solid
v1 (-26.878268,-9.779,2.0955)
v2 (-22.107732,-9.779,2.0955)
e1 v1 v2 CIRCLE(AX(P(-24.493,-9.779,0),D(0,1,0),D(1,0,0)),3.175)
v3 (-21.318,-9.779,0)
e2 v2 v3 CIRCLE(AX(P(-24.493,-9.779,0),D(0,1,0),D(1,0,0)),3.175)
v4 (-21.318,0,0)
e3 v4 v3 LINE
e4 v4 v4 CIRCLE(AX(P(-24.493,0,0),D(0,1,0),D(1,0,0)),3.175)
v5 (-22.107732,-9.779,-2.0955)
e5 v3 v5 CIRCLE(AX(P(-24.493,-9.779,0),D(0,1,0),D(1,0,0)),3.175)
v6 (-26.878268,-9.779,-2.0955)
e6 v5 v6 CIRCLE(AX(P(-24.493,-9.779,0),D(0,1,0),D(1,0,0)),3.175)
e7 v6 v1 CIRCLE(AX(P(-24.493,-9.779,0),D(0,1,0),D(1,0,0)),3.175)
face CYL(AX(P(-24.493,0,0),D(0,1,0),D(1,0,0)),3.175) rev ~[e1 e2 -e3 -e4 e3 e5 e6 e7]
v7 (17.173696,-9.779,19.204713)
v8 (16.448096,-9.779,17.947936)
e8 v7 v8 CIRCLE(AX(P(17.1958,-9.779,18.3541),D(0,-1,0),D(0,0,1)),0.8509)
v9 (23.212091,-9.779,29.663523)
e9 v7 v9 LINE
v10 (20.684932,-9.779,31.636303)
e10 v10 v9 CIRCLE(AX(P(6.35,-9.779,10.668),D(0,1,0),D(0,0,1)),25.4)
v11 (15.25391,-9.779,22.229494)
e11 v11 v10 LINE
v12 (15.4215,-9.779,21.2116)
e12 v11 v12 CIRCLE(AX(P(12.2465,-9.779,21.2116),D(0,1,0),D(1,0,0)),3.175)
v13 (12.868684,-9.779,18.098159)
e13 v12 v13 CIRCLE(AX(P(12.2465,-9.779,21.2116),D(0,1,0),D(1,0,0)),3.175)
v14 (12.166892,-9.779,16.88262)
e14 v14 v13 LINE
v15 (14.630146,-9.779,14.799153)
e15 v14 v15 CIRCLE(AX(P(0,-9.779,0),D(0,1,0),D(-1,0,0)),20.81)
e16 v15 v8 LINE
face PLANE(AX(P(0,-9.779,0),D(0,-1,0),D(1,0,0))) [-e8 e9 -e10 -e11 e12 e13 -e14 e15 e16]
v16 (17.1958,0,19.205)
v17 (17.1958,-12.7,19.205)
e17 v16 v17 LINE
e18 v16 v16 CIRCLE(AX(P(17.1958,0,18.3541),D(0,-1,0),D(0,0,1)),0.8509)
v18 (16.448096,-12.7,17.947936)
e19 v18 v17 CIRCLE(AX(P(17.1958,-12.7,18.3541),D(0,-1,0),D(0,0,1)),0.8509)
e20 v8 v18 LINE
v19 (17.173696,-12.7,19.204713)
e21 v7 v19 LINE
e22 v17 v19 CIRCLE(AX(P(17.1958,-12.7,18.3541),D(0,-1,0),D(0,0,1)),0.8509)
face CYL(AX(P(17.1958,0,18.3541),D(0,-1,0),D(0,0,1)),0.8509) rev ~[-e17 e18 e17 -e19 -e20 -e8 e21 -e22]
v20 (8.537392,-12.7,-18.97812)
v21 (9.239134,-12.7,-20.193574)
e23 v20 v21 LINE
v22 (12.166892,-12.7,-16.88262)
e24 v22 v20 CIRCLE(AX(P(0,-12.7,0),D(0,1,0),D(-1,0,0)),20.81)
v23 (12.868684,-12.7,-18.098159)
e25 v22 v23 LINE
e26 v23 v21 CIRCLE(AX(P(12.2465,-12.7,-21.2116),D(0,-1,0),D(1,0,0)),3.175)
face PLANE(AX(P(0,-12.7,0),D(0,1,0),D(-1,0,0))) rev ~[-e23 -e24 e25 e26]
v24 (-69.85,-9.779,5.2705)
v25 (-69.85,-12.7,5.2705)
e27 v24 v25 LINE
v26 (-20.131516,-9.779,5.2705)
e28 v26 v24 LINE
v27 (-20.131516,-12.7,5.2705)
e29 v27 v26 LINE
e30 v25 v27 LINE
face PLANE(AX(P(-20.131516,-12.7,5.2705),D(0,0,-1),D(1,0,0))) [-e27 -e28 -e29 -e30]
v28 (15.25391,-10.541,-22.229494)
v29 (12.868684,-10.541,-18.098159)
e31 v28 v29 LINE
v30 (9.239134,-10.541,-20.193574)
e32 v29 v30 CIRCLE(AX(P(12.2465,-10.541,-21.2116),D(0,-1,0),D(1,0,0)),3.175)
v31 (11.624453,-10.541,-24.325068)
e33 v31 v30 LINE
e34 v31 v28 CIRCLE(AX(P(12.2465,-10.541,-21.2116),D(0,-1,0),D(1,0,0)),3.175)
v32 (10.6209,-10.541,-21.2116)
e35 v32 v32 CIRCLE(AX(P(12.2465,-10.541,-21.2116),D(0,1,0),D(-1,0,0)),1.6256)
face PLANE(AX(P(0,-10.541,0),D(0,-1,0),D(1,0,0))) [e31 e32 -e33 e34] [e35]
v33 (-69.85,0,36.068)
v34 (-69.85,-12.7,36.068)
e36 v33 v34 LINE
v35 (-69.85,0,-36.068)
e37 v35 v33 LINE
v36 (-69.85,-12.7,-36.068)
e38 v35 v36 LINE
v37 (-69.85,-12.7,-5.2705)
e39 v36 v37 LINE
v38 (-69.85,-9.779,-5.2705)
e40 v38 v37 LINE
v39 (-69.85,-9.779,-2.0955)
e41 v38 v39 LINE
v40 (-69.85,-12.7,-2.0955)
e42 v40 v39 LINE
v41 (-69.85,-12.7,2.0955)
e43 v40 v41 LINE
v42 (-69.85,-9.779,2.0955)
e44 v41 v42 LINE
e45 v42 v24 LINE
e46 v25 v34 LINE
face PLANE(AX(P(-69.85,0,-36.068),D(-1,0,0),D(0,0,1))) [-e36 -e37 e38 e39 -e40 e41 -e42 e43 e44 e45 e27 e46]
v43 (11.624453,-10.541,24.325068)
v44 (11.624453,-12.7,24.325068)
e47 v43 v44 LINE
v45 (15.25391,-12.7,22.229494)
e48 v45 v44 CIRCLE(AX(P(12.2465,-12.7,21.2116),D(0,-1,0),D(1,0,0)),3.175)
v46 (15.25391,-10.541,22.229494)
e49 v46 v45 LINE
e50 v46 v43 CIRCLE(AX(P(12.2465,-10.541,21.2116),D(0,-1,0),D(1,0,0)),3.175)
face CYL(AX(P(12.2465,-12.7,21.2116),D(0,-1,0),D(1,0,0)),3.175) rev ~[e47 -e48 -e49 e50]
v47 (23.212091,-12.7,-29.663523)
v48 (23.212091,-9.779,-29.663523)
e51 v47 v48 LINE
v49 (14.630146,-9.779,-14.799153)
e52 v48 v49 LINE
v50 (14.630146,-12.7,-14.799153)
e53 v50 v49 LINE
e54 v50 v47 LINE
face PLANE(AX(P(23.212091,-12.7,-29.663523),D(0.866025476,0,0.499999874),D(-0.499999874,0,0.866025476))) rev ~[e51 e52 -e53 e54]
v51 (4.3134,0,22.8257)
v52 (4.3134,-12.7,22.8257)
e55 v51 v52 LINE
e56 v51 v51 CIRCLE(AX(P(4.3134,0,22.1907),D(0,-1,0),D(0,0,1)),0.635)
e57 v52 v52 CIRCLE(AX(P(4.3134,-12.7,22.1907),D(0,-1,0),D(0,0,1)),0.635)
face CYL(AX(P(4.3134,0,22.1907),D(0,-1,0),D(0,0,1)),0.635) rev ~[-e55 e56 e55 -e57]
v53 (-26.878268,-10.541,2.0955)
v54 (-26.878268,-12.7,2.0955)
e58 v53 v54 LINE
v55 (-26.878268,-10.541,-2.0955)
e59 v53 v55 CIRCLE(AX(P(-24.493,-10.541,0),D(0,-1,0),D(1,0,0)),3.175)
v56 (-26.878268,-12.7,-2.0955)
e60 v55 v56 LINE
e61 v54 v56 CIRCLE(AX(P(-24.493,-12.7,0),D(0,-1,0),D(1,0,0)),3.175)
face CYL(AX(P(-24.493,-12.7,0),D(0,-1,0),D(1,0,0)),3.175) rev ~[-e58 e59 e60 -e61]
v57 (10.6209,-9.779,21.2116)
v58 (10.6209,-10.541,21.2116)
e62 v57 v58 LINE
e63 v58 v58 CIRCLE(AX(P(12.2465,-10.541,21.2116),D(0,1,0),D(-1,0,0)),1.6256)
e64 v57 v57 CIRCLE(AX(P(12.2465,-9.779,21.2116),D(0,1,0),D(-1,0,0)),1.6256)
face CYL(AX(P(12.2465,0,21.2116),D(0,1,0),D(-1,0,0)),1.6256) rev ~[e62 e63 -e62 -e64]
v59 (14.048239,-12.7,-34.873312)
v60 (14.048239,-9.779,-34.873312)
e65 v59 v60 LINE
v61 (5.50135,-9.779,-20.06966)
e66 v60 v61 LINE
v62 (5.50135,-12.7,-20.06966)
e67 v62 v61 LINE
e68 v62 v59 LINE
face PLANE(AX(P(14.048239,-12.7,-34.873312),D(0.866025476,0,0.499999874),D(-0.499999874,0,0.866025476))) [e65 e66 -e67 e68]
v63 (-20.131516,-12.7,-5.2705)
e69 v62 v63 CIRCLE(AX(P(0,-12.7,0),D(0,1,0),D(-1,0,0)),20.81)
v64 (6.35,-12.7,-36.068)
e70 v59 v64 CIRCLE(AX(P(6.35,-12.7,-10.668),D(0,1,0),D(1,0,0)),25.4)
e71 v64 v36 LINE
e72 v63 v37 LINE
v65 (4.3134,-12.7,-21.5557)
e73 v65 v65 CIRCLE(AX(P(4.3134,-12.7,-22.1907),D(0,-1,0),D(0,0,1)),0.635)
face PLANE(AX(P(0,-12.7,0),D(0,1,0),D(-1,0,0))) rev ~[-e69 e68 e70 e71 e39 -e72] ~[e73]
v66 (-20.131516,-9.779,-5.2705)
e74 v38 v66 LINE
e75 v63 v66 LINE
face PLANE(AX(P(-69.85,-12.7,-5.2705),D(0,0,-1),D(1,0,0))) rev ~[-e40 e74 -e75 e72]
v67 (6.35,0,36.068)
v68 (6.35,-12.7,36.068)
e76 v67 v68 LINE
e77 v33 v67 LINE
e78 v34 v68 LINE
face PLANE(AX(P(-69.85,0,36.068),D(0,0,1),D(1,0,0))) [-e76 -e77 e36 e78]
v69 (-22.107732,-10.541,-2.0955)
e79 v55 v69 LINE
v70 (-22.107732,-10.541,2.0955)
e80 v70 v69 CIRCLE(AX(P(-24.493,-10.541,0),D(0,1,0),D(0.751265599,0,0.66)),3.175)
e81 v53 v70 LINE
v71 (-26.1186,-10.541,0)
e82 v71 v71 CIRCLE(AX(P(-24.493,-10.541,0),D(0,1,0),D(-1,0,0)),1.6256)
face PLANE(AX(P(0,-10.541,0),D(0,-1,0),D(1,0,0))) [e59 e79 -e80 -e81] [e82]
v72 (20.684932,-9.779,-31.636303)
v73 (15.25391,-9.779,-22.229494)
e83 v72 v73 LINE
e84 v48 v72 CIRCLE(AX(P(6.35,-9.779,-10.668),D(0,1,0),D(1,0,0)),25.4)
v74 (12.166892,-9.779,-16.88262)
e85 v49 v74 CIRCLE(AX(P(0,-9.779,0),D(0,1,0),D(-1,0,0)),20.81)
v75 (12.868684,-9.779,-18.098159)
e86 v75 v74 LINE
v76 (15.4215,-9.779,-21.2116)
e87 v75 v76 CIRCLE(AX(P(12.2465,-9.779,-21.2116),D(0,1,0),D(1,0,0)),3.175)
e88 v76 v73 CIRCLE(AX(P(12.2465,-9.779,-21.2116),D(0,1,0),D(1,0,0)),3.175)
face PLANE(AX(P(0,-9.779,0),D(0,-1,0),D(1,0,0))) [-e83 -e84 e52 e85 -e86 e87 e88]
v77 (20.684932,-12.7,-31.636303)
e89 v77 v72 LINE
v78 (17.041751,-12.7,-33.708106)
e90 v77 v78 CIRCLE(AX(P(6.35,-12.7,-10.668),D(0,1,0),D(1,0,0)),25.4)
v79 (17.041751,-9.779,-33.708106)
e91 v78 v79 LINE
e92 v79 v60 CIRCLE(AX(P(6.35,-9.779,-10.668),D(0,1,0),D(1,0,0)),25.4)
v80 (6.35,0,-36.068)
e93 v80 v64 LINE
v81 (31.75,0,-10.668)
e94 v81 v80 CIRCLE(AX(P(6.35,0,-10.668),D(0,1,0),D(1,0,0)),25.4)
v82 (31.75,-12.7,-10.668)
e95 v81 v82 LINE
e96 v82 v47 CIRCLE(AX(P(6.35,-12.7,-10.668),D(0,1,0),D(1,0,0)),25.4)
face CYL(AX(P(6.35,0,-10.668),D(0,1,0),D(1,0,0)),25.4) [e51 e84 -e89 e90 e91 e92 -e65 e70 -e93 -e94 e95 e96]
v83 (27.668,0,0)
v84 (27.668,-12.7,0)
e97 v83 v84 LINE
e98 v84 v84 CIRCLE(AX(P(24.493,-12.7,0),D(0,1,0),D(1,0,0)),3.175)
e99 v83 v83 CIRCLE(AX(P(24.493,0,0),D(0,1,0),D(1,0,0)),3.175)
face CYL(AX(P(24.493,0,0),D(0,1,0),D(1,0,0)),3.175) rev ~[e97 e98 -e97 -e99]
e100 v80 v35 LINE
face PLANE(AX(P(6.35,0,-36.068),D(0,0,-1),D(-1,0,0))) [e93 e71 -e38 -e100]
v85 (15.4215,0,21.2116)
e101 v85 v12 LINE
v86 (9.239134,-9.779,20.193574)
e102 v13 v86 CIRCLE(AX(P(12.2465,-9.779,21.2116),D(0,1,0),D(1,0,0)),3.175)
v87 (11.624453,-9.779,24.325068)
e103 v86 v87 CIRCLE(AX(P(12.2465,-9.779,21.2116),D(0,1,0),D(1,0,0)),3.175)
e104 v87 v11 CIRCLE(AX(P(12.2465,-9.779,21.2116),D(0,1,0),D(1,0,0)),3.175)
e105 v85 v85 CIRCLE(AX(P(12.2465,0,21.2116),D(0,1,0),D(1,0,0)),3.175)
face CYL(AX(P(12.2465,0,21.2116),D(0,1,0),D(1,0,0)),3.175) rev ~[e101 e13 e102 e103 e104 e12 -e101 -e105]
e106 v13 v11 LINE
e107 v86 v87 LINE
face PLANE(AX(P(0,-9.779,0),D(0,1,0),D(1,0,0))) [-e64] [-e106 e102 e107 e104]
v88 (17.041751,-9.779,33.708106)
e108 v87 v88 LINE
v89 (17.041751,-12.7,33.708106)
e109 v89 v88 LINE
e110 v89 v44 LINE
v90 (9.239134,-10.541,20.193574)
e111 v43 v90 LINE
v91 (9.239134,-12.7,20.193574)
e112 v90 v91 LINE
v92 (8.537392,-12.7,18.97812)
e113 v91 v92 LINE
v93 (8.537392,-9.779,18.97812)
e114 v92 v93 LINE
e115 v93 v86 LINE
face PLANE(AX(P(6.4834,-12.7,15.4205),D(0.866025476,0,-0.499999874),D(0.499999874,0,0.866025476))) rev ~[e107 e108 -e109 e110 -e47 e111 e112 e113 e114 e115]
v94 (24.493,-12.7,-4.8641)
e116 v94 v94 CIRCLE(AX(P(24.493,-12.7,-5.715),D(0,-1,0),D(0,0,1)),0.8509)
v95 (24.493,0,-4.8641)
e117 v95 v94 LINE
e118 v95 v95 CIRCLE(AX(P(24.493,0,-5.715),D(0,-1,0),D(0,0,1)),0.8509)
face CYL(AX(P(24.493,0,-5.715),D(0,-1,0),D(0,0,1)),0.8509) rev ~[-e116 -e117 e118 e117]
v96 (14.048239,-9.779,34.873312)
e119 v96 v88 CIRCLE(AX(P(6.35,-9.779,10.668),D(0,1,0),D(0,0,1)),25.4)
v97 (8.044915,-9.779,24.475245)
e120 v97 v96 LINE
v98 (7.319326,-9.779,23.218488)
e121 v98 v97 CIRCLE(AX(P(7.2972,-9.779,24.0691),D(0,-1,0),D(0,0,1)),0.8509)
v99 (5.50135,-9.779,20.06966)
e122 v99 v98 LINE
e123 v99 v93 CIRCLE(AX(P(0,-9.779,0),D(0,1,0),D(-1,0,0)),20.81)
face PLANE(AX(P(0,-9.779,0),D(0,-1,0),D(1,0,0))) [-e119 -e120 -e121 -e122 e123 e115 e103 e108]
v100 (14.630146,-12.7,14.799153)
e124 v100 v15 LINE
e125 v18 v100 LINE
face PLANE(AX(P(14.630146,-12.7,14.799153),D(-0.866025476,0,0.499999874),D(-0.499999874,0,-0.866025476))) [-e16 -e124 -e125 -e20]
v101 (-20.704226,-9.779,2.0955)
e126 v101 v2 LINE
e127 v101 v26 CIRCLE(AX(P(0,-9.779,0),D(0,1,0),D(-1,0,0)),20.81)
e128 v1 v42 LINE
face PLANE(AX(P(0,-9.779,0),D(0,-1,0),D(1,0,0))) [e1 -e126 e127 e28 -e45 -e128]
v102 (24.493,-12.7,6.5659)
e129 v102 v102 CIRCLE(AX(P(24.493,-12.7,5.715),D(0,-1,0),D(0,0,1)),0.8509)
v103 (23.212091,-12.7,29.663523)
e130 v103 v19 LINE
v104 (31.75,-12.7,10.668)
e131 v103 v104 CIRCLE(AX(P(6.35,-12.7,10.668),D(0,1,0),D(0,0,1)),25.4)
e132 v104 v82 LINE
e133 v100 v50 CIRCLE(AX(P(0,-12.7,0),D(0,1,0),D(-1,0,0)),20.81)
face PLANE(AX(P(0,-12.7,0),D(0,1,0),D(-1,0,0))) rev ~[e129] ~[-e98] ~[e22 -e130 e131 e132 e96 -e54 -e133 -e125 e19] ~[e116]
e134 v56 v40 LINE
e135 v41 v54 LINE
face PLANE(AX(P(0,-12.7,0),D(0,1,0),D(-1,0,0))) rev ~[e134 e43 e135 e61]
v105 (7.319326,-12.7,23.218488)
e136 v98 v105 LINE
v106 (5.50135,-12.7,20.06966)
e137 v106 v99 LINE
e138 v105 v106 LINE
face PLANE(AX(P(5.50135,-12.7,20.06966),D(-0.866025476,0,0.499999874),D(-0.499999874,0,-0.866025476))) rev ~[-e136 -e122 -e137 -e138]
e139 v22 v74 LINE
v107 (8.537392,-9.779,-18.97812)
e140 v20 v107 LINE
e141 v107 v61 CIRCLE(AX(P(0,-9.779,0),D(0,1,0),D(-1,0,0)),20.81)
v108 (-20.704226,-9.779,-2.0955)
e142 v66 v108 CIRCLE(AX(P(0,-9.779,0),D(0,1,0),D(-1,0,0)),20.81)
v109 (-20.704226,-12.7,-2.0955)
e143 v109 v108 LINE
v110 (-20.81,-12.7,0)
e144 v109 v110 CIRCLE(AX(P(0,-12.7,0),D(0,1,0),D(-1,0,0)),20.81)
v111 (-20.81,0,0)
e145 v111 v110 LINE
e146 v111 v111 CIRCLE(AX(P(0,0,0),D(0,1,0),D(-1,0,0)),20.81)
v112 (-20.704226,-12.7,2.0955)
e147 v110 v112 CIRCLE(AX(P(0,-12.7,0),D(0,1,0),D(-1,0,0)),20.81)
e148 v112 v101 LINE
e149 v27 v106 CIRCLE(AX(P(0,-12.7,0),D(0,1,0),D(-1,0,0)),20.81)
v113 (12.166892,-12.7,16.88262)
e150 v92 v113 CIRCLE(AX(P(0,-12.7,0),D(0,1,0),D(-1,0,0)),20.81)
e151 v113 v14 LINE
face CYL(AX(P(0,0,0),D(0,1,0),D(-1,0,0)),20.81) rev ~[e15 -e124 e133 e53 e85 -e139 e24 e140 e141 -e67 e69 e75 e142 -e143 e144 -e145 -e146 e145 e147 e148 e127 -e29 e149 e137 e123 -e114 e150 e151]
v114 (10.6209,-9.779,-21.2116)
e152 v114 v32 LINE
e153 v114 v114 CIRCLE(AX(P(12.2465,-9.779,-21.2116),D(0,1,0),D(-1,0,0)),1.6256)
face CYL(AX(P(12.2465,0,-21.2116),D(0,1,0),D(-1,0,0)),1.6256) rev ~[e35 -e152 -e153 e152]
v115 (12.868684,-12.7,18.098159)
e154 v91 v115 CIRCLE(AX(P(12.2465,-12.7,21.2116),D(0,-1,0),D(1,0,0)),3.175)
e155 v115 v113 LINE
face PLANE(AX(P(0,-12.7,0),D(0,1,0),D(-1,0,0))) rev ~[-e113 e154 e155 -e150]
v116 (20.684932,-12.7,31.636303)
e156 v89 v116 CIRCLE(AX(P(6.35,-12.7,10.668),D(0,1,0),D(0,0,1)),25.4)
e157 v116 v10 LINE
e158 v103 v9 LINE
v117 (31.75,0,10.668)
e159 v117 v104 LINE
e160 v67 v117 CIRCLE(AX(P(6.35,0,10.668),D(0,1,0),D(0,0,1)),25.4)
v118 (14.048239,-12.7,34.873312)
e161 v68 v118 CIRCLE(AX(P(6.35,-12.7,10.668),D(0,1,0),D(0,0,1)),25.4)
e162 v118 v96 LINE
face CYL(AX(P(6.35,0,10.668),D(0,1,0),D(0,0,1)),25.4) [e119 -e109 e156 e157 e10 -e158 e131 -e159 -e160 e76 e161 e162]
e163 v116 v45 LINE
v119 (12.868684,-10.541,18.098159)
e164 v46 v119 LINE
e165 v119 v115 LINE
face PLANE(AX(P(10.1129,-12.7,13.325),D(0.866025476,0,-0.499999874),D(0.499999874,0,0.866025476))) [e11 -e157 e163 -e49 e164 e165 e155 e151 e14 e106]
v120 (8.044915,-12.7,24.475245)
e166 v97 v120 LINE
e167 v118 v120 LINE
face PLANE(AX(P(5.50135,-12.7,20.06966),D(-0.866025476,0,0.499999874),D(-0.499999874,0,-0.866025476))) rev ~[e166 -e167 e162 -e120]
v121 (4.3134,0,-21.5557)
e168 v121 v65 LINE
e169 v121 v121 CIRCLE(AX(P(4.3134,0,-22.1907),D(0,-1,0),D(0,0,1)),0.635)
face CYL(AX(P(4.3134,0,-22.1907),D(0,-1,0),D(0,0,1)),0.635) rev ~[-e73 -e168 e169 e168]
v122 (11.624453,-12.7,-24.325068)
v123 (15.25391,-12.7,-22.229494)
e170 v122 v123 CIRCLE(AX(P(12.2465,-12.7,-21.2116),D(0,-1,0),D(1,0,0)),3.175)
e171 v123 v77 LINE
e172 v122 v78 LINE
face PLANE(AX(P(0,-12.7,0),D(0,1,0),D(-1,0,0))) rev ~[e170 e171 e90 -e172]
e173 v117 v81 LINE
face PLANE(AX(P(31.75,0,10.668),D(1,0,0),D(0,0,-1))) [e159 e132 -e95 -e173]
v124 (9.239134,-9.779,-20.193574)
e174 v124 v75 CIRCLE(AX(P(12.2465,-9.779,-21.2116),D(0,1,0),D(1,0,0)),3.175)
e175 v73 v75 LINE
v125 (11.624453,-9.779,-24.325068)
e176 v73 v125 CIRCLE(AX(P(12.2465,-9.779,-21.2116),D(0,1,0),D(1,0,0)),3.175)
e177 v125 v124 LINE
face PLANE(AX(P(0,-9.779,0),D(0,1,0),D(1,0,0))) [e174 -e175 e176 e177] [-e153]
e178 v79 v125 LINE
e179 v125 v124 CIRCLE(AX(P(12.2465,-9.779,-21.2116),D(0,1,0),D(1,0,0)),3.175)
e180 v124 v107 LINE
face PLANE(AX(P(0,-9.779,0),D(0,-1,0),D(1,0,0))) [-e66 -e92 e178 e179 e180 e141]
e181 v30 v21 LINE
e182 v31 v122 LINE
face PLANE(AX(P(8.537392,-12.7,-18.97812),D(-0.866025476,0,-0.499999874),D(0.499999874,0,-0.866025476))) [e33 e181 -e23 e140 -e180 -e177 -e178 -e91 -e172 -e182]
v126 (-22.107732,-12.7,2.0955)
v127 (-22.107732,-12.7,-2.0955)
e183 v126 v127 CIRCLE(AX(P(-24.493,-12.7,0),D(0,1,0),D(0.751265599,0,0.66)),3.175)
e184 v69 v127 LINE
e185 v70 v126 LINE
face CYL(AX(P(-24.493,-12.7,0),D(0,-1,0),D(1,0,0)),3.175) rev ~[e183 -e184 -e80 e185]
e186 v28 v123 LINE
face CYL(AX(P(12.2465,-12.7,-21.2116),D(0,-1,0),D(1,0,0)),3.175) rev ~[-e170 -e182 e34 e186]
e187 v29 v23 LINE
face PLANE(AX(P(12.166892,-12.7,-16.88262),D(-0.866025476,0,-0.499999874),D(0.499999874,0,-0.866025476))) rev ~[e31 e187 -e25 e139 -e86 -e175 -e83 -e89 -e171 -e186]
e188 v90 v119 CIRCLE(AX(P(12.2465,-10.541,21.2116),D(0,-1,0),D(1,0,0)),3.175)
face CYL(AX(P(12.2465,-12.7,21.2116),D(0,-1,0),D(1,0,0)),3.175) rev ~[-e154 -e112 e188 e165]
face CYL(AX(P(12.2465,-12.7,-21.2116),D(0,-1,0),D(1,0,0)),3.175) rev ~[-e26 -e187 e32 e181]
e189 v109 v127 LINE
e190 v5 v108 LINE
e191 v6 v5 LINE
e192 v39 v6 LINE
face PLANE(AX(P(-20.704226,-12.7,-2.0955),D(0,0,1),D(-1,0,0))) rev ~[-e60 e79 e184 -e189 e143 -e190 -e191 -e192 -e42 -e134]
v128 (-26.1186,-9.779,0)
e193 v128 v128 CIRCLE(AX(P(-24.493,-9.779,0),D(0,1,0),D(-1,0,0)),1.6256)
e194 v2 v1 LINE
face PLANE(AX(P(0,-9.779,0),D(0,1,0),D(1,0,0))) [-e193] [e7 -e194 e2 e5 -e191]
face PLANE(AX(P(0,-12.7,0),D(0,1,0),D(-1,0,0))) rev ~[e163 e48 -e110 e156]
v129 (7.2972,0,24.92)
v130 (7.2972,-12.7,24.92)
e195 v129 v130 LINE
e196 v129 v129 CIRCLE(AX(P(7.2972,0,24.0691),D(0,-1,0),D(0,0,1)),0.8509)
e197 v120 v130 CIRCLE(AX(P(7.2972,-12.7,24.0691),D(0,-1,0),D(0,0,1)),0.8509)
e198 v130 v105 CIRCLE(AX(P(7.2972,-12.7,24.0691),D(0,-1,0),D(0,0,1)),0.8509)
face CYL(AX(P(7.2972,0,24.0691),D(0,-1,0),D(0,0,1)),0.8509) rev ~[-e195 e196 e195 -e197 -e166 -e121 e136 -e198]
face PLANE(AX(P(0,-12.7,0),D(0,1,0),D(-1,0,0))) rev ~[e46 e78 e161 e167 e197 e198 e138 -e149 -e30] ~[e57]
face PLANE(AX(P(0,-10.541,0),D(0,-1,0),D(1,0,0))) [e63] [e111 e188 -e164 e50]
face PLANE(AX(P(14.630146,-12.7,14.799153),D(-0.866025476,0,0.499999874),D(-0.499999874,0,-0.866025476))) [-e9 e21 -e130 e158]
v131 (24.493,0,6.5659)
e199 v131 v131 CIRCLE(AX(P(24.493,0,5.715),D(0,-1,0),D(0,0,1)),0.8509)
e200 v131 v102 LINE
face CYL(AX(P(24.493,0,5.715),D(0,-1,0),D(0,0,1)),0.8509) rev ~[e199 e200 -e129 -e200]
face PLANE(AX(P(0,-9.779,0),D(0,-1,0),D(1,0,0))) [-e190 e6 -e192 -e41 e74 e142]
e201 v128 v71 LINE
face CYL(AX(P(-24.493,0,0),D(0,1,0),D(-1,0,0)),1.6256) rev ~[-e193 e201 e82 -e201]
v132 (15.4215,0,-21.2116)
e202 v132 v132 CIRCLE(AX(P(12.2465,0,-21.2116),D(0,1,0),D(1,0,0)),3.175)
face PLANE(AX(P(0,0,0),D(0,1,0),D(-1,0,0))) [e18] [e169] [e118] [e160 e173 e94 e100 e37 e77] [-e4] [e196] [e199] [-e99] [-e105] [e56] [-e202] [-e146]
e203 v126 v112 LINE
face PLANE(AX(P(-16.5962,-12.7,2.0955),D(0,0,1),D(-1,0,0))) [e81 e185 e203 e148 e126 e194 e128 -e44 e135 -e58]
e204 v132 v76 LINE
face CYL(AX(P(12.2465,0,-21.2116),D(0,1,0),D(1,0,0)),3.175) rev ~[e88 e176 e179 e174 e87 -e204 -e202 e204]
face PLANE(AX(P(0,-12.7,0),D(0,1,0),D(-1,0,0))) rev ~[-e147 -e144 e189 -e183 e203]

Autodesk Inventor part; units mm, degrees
ref_plane "YZ Plane" through (0, 0, 0) normal (1, 0, 0) x (0, 1, 0)
ref_plane "XZ Plane" through (0, 0, 0) normal (0, 1, 0) x (-1, 0, 0)
ref_plane "XY Plane" through (0, 0, 0) normal (0, 0, 1) x (1, 0, 0)
sketch "Sketch1" plane through (0, 0, 0) normal (0, 1, 0) x (-1, 0, 0)
  line L0 (-54.2742, 0) -> (84.3226, 0) construction
  line L1 (-6.35, -36.068) -> (69.85, -36.068)
  line L2 (69.85, -36.068) -> (69.85, 36.068)
  line L3 (69.85, 36.068) -> (-6.35, 36.068)
  line L4 (-31.75, 10.668) -> (-31.75, -10.668)
  circle A0 centre (0, 0) radius 17 construction
  circle A1 centre (0, 0) radius 20.81
  line L5 (0, 0) -> (-18.9066, 32.7472) construction
  circle A2 centre (0, 0) radius 3.81 construction
  arc A3 (-6.35, 36.068) -> (-31.75, 10.668) centre (-6.35, 10.668) ccw
  arc A4 (-31.75, -10.668) -> (-6.35, -36.068) centre (-6.35, -10.668) ccw
  circle A5 centre (-12.2465, 21.2116) radius 1.6256
  line L6 (0, 0) -> (31.1733, 53.9938) construction
  circle A6 centre (24.493, 0) radius 1.6256
  circle A7 centre (-12.2465, -21.2116) radius 1.6256
  circle A8 centre (-12.2465, 21.2116) radius 3.175 construction
  line L7 (-57.1489, 10.668) -> (-67.0521, 10.668)
  line L8 (-67.0521, 10.668) -> (-67.0521, -7.3902)
  line L9 (-67.0521, -7.3902) -> (-57.1489, -7.3902)
  line L10 (-57.1489, -7.3902) -> (-57.1489, 10.668)
  point P0 (-31.75, -36.068)
  point P1 (-31.75, 36.068)
  dimension "d0" = 72.136
  dimension "d1" = 101.6
  dimension "d2" = 34
  dimension "d3" = 3.81
  dimension "d4" = 31.75
  dimension "tri_angle" = 120
  dimension "fov_diameter" = 7.62
  dimension "d9" = 25.4
  dimension "d12" = 3.2512
  dimension "mount_radius" = 24.493
  dimension "d14" = 60
  dimension "d25" = 6.35
  dimension "main_aperture_diameter" = 41.62
  dimension "d67" = 2.0574
  dimension "d68" = 10.94
extrude "Extrusion2" add sketch "Sketch1" against normal blind 12.7 contours A4 L4 A3 L3 L2 L1
sketch "Sketch2" plane through (0, -12.7, 0) normal (0, -1, 0) x (1, 0, 0)
  line L0 (0, 0) -> (-53.7265, 0) construction
  circle A0 centre (0, 0) radius 20.81 projected
  circle A1 centre (12.2465, -21.2116) radius 1.6256 projected
  circle A2 centre (-24.493, 0) radius 1.6256 projected
  circle A3 centre (12.2465, 21.2116) radius 1.6256 projected
  line L1 (-69.85, 36.068) -> (-69.85, -36.068) projected
  line L2 (6.35, 36.068) -> (-69.85, 36.068) projected
  arc A4 (31.75, 10.668) -> (6.35, 36.068) centre (6.35, 10.668) ccw projected
  line L3 (31.75, -10.668) -> (31.75, 10.668) projected
  arc A5 (6.35, -36.068) -> (31.75, -10.668) centre (6.35, -10.668) ccw projected
  line L4 (-69.85, -36.068) -> (6.35, -36.068) projected
  line L5 (54.2742, 0) -> (-84.3226, 0) construction
  line L6 (0, 0) -> (-31.1733, 53.9938) construction
  circle A6 centre (0, 0) radius 17 construction
  circle A7 centre (0, 0) radius 3.81 construction
  line L7 (0, 0) -> (18.9066, 32.7472) construction
  line L8 (41.6502, 64.7743) -> (11.4877, 12.5313) construction
  line L9 (11.4877, 12.5313) -> (41.6502, 64.7743) construction
  line L10 (10.1129, 13.325) -> (40.2754, 65.568)
  line L11 (43.025, 63.9805) -> (12.8625, 11.7375)
  arc A8 (10.1129, 13.325) -> (12.8625, 11.7375) centre (11.4877, 12.5313) ccw
  arc A9 (43.025, 63.9805) -> (40.2754, 65.568) centre (41.6502, 64.7743) ccw
  line L12 (6.4834, 15.4205) -> (36.6459, 67.6635)
  line L13 (33.8962, 69.251) -> (3.7337, 17.008)
  arc A10 (3.7337, 17.008) -> (6.4834, 15.4205) centre (5.1086, 16.2143) ccw
  arc A11 (36.6459, 67.6635) -> (33.8962, 69.251) centre (35.2711, 68.4573) ccw
  line L14 (10.1129, -13.325) -> (40.2754, -65.568)
  line L15 (43.025, -63.9805) -> (12.8625, -11.7375)
  arc A12 (12.8625, -11.7375) -> (10.1129, -13.325) centre (11.4877, -12.5313) ccw
  arc A13 (40.2754, -65.568) -> (43.025, -63.9805) centre (41.6502, -64.7743) ccw
  arc A14 (33.8962, -69.251) -> (36.6459, -67.6635) centre (35.2711, -68.4573) ccw
  line L16 (33.8962, -69.251) -> (3.7337, -17.008)
  arc A15 (6.4834, -15.4205) -> (3.7337, -17.008) centre (5.1086, -16.2143) ccw
  line L17 (6.4834, -15.4205) -> (36.6459, -67.6635)
  line L18 (-16.5962, -2.0955) -> (-76.9212, -2.0955)
  line L19 (-76.9212, -5.2705) -> (-16.5962, -5.2705)
  arc A16 (-16.5962, -5.2705) -> (-16.5962, -2.0955) centre (-16.5962, -3.683) ccw
  arc A17 (-76.9212, -2.0955) -> (-76.9212, -5.2705) centre (-76.9212, -3.683) ccw
  arc A18 (-76.9212, 5.2705) -> (-76.9212, 2.0955) centre (-76.9212, 3.683) ccw
  line L20 (-76.9212, 5.2705) -> (-16.5962, 5.2705)
  arc A19 (-16.5962, 2.0955) -> (-16.5962, 5.2705) centre (-16.5962, 3.683) ccw
  line L21 (-16.5962, 2.0955) -> (-76.9212, 2.0955)
  point P0 (26.5689, 38.6528)
  dimension "d20" = 3.683
  dimension "pin_diameter" = 3.175
  dimension "d28" = 63.5
extrude "Extrusion3" cut sketch "Sketch2" against normal blind 2.921 contours L11 A8 L10 A0 | A0 L10 A4 L11 | L15 A5 L14 A0 | A0 L14 A12 L15 | A4 L10 A9 L11 | L15 A13 L14 A5 | L12 A10 L13 A0 | A0 L13 A4 L12 | L17 A5 L16 A0 | A0 L16 A15 L17 | A4 L13 A11 L12 | L17 A14 L16 A5 | L20 A19 L21 A0 | A0 L21 L1 L20 | L19 L1 L18 A0 | A0 L18 A16 L19 | L1 L21 A18 L20 | L19 A17 L18 L1
sketch "Sketch3" plane through (0, 0, 0) normal (0, 1, 0) x (1, 0, 0)
  circle A0 centre (12.2465, -21.2116) radius 3.175 construction
  circle A1 centre (12.2465, -21.2116) radius 3.175
  line L0 (54.2742, 0) -> (-84.3226, 0) construction
  line L1 (0, 0) -> (-31.1733, -53.9938) construction
  circle A2 centre (12.2465, 21.2116) radius 3.175
  circle A3 centre (-24.493, 0) radius 3.175
extrude "Extrusion4" cut sketch "Sketch3" against normal blind 9.779
sketch "Sketch4" plane through (0, 0, 0) normal (0, 1, 0) x (1, 0, 0)
  line L0 (54.2742, 0) -> (-84.3226, 0) construction
  line L1 (-63.5, -29.1592) -> (-12.7, -29.1592) construction
  line L2 (-63.5, -26.67) -> (-12.7, -26.67)
  line L3 (-12.7, -31.6484) -> (-63.5, -31.6484)
  arc A0 (-63.5, -26.67) -> (-63.5, -31.6484) centre (-63.5, -29.1592) ccw
  arc A1 (-12.7, -31.6484) -> (-12.7, -26.67) centre (-12.7, -29.1592) ccw
  line L4 (-63.5, 26.67) -> (-12.7, 26.67)
  line L5 (-12.7, 31.6484) -> (-63.5, 31.6484)
  arc A2 (-63.5, 31.6484) -> (-63.5, 26.67) centre (-63.5, 29.1592) ccw
  arc A3 (-12.7, 26.67) -> (-12.7, 31.6484) centre (-12.7, 29.1592) ccw
  point P0 (0, 0)
  point P1 (-38.1, -29.1592)
  dimension "d33" = 4.9784
  dimension "d34" = 50.8
  dimension "d35" = 58.3184
  dimension "d36" = 12.7
sketch "Sketch5" plane through (0, -12.7, 0) normal (0, -1, 0) x (1, 0, 0)
  circle A0 centre (12.2465, 21.2116) radius 1.6256 projected
  line L0 (0, 0) -> (18.9066, 32.7472) construction
  line L1 (54.2742, 0) -> (-84.3226, 0) construction
  line L2 (0, 0) -> (-31.1733, 53.9938) construction
  circle A1 centre (12.2465, 21.2116) radius 3.175 construction
  line L3 (9.4969, 22.7991) -> (6.9569, 18.3997)
  line L4 (14.9961, 19.6241) -> (12.4561, 15.2247)
  line L5 (6.9569, 18.3997) -> (12.4561, 15.2247)
  arc A2 (14.9961, 19.6241) -> (9.4969, 22.7991) centre (12.2465, 21.2116) ccw
  line L6 (-24.493, 3.175) -> (-19.413, 3.175)
  line L7 (-24.493, -3.175) -> (-19.413, -3.175)
  line L8 (-19.413, 3.175) -> (-19.413, -3.175)
  arc A3 (-24.493, 3.175) -> (-24.493, -3.175) centre (-24.493, 0) ccw
  line L9 (9.4969, -22.7991) -> (6.9569, -18.3997)
  line L10 (14.9961, -19.6241) -> (12.4561, -15.2247)
  line L11 (6.9569, -18.3997) -> (12.4561, -15.2247)
  arc A4 (9.4969, -22.7991) -> (14.9961, -19.6241) centre (12.2465, -21.2116) ccw
  dimension "d50" = 5.08
extrude "Extrusion6" [suppressed]
extrude "Extrusion7" [suppressed]
sketch "Sketch6" plane through (0, 0, 0) normal (0, 1, 0) x (1, 0, 0)
  line L0 (0, 0) -> (18.9066, -32.7472) construction
  line L1 (41.6502, -64.7743) -> (11.4877, -12.5313) construction
  line L2 (0, 0) -> (33.579, -42.2146) construction
  circle A0 centre (15.5113, -19.5004) radius 3.175
  circle A1 centre (9.1322, -23.1834) radius 3.175
  line L3 (0, 0) -> (-31.1733, -53.9938) construction
  line L4 (54.2742, 0) -> (-84.3226, 0) construction
  circle A2 centre (-24.6435, 3.683) radius 3.175
  circle A3 centre (-24.6435, -3.683) radius 3.175
  circle A4 centre (15.5113, 19.5004) radius 3.175
  circle A5 centre (9.1322, 23.1834) radius 3.175
  dimension "d45" = 8.5
  dimension "d46" = 6.35
extrude "Extrusion8" [suppressed]
chamfer "Chamfer2" [suppressed]
sketch "Sketch7" plane through (0, -12.7, 0) normal (0, -1, 0) x (1, 0, 0)
  line L0 (0, 0) -> (-31.1733, 53.9938) construction
  line L1 (0, 0) -> (18.9066, 32.7472) construction
  circle A0 centre (12.2465, 21.2116) radius 3.175
  circle A1 centre (-24.493, 0) radius 3.175
  line L2 (54.2742, 0) -> (-84.3226, 0) construction
  circle A2 centre (12.2465, -21.2116) radius 3.175
  dimension "d54" = 6.35
extrude "Extrusion9" cut sketch "Sketch7" against normal blind 2.159
sketch "Sketch8" plane through (0, 0, 0) normal (0, 1, 0) x (1, 0, 0)
  circle A0 centre (0, 0) radius 20.81 projected
  line L0 (54.2742, 0) -> (-84.3226, 0) construction
  line L1 (0, 0) -> (12.8396, -66.0541) construction
  point P0 (4.3134, -22.1907)
  point P1 (4.3134, 22.1907)
  dimension "d57" = 101
  dimension "d58" = 22.606
hole "Hole1" at (4.3134, 0, 22.1907) at (4.3134, 0, -22.1907) direction (0, -1, 0) diameter 1.27 depth 25.4 tip angle 118
sketch "Sketch9" plane through (0, 0, 0) normal (0, 1, 0) x (1, 0, 0)
  line L0 (0, 0) -> (22.9874, -39.8154) construction
  line L1 (15.2539, -22.2295) -> (20.6849, -31.6363) projected
  circle A0 centre (12.2465, -21.2116) radius 3.175 projected
  line L2 (12.2465, -21.2116) -> (22.1452, -15.4966) construction
  point P0 (17.1958, -18.3541)
  point P1 (7.2972, -24.0691)
  dimension "d69" = 11.43
hole "Hole2" at (17.1958, 0, 18.3541) at (7.2972, 0, 24.0691) direction (0, -1, 0) diameter 1.7018 depth 12.7 tip angle 118
sketch "Sketch10" plane through (0, 0, 0) normal (0, 1, 0) x (1, 0, 0)
  circle A0 centre (-24.493, 0) radius 3.175 projected
  line L0 (0, 50.4952) -> (0, -50.4952) projected
  line L1 (0, 0) -> (18.9066, -32.7472) construction
  circle A1 centre (24.493, 0) radius 3.175
  line L2 (0, 0) -> (37.8406, -21.8473) construction
  point P0 (7.2972, -24.0691)
  point P1 (17.1958, -18.3541)
  point P2 (24.493, 5.715)
  point P3 (24.493, -5.715)
  dimension "d77" = 30
extrude "Extrusion10" cut sketch "Sketch10" against normal blind 25.4 contours A1
sketch "Sketch11" plane through (0, 0, 0) normal (0, 1, 0) x (1, 0, 0)
  point P0 (0, 0)
  point P1 (24.493, -5.715)
  point P2 (24.493, 5.715)
hole "Hole3" at (24.493, 0, 5.715) at (24.493, 0, -5.715) direction (0, -1, 0) diameter 1.7018 depth 12.7 tip angle 118
equation "\"fov_diameter\" = 2 * d3"
equation "\"d14\" = 0.5 * tri_angle"
equation "\"d15\" = plate_thickness"
equation "\"d23\" = pin_depth"
equation "\"d26\" = magnet_depth"
equation "\"d40\" = bearing_relief_depth"
equation "\"d46\" = magnet_diameter"
equation "\"d47\" = magnet_depth"
equation "\"d54\" = magnet_diameter"
equation "\"d55\" = bearing_relief_depth"
equation "\"plate_thickness\" = 12.7"
equation "\"magnet_depth\" = plate_thickness - pin_depth"
equation "\"hole_diameter\" = d2 + fov_diameter"
equation "\"pin_depth\" = 2.921"
equation "\"bearing_relief_depth\" = 2.159"
equation "\"magnet_diameter\" = 6.35"
properties part number "tri_mount"
